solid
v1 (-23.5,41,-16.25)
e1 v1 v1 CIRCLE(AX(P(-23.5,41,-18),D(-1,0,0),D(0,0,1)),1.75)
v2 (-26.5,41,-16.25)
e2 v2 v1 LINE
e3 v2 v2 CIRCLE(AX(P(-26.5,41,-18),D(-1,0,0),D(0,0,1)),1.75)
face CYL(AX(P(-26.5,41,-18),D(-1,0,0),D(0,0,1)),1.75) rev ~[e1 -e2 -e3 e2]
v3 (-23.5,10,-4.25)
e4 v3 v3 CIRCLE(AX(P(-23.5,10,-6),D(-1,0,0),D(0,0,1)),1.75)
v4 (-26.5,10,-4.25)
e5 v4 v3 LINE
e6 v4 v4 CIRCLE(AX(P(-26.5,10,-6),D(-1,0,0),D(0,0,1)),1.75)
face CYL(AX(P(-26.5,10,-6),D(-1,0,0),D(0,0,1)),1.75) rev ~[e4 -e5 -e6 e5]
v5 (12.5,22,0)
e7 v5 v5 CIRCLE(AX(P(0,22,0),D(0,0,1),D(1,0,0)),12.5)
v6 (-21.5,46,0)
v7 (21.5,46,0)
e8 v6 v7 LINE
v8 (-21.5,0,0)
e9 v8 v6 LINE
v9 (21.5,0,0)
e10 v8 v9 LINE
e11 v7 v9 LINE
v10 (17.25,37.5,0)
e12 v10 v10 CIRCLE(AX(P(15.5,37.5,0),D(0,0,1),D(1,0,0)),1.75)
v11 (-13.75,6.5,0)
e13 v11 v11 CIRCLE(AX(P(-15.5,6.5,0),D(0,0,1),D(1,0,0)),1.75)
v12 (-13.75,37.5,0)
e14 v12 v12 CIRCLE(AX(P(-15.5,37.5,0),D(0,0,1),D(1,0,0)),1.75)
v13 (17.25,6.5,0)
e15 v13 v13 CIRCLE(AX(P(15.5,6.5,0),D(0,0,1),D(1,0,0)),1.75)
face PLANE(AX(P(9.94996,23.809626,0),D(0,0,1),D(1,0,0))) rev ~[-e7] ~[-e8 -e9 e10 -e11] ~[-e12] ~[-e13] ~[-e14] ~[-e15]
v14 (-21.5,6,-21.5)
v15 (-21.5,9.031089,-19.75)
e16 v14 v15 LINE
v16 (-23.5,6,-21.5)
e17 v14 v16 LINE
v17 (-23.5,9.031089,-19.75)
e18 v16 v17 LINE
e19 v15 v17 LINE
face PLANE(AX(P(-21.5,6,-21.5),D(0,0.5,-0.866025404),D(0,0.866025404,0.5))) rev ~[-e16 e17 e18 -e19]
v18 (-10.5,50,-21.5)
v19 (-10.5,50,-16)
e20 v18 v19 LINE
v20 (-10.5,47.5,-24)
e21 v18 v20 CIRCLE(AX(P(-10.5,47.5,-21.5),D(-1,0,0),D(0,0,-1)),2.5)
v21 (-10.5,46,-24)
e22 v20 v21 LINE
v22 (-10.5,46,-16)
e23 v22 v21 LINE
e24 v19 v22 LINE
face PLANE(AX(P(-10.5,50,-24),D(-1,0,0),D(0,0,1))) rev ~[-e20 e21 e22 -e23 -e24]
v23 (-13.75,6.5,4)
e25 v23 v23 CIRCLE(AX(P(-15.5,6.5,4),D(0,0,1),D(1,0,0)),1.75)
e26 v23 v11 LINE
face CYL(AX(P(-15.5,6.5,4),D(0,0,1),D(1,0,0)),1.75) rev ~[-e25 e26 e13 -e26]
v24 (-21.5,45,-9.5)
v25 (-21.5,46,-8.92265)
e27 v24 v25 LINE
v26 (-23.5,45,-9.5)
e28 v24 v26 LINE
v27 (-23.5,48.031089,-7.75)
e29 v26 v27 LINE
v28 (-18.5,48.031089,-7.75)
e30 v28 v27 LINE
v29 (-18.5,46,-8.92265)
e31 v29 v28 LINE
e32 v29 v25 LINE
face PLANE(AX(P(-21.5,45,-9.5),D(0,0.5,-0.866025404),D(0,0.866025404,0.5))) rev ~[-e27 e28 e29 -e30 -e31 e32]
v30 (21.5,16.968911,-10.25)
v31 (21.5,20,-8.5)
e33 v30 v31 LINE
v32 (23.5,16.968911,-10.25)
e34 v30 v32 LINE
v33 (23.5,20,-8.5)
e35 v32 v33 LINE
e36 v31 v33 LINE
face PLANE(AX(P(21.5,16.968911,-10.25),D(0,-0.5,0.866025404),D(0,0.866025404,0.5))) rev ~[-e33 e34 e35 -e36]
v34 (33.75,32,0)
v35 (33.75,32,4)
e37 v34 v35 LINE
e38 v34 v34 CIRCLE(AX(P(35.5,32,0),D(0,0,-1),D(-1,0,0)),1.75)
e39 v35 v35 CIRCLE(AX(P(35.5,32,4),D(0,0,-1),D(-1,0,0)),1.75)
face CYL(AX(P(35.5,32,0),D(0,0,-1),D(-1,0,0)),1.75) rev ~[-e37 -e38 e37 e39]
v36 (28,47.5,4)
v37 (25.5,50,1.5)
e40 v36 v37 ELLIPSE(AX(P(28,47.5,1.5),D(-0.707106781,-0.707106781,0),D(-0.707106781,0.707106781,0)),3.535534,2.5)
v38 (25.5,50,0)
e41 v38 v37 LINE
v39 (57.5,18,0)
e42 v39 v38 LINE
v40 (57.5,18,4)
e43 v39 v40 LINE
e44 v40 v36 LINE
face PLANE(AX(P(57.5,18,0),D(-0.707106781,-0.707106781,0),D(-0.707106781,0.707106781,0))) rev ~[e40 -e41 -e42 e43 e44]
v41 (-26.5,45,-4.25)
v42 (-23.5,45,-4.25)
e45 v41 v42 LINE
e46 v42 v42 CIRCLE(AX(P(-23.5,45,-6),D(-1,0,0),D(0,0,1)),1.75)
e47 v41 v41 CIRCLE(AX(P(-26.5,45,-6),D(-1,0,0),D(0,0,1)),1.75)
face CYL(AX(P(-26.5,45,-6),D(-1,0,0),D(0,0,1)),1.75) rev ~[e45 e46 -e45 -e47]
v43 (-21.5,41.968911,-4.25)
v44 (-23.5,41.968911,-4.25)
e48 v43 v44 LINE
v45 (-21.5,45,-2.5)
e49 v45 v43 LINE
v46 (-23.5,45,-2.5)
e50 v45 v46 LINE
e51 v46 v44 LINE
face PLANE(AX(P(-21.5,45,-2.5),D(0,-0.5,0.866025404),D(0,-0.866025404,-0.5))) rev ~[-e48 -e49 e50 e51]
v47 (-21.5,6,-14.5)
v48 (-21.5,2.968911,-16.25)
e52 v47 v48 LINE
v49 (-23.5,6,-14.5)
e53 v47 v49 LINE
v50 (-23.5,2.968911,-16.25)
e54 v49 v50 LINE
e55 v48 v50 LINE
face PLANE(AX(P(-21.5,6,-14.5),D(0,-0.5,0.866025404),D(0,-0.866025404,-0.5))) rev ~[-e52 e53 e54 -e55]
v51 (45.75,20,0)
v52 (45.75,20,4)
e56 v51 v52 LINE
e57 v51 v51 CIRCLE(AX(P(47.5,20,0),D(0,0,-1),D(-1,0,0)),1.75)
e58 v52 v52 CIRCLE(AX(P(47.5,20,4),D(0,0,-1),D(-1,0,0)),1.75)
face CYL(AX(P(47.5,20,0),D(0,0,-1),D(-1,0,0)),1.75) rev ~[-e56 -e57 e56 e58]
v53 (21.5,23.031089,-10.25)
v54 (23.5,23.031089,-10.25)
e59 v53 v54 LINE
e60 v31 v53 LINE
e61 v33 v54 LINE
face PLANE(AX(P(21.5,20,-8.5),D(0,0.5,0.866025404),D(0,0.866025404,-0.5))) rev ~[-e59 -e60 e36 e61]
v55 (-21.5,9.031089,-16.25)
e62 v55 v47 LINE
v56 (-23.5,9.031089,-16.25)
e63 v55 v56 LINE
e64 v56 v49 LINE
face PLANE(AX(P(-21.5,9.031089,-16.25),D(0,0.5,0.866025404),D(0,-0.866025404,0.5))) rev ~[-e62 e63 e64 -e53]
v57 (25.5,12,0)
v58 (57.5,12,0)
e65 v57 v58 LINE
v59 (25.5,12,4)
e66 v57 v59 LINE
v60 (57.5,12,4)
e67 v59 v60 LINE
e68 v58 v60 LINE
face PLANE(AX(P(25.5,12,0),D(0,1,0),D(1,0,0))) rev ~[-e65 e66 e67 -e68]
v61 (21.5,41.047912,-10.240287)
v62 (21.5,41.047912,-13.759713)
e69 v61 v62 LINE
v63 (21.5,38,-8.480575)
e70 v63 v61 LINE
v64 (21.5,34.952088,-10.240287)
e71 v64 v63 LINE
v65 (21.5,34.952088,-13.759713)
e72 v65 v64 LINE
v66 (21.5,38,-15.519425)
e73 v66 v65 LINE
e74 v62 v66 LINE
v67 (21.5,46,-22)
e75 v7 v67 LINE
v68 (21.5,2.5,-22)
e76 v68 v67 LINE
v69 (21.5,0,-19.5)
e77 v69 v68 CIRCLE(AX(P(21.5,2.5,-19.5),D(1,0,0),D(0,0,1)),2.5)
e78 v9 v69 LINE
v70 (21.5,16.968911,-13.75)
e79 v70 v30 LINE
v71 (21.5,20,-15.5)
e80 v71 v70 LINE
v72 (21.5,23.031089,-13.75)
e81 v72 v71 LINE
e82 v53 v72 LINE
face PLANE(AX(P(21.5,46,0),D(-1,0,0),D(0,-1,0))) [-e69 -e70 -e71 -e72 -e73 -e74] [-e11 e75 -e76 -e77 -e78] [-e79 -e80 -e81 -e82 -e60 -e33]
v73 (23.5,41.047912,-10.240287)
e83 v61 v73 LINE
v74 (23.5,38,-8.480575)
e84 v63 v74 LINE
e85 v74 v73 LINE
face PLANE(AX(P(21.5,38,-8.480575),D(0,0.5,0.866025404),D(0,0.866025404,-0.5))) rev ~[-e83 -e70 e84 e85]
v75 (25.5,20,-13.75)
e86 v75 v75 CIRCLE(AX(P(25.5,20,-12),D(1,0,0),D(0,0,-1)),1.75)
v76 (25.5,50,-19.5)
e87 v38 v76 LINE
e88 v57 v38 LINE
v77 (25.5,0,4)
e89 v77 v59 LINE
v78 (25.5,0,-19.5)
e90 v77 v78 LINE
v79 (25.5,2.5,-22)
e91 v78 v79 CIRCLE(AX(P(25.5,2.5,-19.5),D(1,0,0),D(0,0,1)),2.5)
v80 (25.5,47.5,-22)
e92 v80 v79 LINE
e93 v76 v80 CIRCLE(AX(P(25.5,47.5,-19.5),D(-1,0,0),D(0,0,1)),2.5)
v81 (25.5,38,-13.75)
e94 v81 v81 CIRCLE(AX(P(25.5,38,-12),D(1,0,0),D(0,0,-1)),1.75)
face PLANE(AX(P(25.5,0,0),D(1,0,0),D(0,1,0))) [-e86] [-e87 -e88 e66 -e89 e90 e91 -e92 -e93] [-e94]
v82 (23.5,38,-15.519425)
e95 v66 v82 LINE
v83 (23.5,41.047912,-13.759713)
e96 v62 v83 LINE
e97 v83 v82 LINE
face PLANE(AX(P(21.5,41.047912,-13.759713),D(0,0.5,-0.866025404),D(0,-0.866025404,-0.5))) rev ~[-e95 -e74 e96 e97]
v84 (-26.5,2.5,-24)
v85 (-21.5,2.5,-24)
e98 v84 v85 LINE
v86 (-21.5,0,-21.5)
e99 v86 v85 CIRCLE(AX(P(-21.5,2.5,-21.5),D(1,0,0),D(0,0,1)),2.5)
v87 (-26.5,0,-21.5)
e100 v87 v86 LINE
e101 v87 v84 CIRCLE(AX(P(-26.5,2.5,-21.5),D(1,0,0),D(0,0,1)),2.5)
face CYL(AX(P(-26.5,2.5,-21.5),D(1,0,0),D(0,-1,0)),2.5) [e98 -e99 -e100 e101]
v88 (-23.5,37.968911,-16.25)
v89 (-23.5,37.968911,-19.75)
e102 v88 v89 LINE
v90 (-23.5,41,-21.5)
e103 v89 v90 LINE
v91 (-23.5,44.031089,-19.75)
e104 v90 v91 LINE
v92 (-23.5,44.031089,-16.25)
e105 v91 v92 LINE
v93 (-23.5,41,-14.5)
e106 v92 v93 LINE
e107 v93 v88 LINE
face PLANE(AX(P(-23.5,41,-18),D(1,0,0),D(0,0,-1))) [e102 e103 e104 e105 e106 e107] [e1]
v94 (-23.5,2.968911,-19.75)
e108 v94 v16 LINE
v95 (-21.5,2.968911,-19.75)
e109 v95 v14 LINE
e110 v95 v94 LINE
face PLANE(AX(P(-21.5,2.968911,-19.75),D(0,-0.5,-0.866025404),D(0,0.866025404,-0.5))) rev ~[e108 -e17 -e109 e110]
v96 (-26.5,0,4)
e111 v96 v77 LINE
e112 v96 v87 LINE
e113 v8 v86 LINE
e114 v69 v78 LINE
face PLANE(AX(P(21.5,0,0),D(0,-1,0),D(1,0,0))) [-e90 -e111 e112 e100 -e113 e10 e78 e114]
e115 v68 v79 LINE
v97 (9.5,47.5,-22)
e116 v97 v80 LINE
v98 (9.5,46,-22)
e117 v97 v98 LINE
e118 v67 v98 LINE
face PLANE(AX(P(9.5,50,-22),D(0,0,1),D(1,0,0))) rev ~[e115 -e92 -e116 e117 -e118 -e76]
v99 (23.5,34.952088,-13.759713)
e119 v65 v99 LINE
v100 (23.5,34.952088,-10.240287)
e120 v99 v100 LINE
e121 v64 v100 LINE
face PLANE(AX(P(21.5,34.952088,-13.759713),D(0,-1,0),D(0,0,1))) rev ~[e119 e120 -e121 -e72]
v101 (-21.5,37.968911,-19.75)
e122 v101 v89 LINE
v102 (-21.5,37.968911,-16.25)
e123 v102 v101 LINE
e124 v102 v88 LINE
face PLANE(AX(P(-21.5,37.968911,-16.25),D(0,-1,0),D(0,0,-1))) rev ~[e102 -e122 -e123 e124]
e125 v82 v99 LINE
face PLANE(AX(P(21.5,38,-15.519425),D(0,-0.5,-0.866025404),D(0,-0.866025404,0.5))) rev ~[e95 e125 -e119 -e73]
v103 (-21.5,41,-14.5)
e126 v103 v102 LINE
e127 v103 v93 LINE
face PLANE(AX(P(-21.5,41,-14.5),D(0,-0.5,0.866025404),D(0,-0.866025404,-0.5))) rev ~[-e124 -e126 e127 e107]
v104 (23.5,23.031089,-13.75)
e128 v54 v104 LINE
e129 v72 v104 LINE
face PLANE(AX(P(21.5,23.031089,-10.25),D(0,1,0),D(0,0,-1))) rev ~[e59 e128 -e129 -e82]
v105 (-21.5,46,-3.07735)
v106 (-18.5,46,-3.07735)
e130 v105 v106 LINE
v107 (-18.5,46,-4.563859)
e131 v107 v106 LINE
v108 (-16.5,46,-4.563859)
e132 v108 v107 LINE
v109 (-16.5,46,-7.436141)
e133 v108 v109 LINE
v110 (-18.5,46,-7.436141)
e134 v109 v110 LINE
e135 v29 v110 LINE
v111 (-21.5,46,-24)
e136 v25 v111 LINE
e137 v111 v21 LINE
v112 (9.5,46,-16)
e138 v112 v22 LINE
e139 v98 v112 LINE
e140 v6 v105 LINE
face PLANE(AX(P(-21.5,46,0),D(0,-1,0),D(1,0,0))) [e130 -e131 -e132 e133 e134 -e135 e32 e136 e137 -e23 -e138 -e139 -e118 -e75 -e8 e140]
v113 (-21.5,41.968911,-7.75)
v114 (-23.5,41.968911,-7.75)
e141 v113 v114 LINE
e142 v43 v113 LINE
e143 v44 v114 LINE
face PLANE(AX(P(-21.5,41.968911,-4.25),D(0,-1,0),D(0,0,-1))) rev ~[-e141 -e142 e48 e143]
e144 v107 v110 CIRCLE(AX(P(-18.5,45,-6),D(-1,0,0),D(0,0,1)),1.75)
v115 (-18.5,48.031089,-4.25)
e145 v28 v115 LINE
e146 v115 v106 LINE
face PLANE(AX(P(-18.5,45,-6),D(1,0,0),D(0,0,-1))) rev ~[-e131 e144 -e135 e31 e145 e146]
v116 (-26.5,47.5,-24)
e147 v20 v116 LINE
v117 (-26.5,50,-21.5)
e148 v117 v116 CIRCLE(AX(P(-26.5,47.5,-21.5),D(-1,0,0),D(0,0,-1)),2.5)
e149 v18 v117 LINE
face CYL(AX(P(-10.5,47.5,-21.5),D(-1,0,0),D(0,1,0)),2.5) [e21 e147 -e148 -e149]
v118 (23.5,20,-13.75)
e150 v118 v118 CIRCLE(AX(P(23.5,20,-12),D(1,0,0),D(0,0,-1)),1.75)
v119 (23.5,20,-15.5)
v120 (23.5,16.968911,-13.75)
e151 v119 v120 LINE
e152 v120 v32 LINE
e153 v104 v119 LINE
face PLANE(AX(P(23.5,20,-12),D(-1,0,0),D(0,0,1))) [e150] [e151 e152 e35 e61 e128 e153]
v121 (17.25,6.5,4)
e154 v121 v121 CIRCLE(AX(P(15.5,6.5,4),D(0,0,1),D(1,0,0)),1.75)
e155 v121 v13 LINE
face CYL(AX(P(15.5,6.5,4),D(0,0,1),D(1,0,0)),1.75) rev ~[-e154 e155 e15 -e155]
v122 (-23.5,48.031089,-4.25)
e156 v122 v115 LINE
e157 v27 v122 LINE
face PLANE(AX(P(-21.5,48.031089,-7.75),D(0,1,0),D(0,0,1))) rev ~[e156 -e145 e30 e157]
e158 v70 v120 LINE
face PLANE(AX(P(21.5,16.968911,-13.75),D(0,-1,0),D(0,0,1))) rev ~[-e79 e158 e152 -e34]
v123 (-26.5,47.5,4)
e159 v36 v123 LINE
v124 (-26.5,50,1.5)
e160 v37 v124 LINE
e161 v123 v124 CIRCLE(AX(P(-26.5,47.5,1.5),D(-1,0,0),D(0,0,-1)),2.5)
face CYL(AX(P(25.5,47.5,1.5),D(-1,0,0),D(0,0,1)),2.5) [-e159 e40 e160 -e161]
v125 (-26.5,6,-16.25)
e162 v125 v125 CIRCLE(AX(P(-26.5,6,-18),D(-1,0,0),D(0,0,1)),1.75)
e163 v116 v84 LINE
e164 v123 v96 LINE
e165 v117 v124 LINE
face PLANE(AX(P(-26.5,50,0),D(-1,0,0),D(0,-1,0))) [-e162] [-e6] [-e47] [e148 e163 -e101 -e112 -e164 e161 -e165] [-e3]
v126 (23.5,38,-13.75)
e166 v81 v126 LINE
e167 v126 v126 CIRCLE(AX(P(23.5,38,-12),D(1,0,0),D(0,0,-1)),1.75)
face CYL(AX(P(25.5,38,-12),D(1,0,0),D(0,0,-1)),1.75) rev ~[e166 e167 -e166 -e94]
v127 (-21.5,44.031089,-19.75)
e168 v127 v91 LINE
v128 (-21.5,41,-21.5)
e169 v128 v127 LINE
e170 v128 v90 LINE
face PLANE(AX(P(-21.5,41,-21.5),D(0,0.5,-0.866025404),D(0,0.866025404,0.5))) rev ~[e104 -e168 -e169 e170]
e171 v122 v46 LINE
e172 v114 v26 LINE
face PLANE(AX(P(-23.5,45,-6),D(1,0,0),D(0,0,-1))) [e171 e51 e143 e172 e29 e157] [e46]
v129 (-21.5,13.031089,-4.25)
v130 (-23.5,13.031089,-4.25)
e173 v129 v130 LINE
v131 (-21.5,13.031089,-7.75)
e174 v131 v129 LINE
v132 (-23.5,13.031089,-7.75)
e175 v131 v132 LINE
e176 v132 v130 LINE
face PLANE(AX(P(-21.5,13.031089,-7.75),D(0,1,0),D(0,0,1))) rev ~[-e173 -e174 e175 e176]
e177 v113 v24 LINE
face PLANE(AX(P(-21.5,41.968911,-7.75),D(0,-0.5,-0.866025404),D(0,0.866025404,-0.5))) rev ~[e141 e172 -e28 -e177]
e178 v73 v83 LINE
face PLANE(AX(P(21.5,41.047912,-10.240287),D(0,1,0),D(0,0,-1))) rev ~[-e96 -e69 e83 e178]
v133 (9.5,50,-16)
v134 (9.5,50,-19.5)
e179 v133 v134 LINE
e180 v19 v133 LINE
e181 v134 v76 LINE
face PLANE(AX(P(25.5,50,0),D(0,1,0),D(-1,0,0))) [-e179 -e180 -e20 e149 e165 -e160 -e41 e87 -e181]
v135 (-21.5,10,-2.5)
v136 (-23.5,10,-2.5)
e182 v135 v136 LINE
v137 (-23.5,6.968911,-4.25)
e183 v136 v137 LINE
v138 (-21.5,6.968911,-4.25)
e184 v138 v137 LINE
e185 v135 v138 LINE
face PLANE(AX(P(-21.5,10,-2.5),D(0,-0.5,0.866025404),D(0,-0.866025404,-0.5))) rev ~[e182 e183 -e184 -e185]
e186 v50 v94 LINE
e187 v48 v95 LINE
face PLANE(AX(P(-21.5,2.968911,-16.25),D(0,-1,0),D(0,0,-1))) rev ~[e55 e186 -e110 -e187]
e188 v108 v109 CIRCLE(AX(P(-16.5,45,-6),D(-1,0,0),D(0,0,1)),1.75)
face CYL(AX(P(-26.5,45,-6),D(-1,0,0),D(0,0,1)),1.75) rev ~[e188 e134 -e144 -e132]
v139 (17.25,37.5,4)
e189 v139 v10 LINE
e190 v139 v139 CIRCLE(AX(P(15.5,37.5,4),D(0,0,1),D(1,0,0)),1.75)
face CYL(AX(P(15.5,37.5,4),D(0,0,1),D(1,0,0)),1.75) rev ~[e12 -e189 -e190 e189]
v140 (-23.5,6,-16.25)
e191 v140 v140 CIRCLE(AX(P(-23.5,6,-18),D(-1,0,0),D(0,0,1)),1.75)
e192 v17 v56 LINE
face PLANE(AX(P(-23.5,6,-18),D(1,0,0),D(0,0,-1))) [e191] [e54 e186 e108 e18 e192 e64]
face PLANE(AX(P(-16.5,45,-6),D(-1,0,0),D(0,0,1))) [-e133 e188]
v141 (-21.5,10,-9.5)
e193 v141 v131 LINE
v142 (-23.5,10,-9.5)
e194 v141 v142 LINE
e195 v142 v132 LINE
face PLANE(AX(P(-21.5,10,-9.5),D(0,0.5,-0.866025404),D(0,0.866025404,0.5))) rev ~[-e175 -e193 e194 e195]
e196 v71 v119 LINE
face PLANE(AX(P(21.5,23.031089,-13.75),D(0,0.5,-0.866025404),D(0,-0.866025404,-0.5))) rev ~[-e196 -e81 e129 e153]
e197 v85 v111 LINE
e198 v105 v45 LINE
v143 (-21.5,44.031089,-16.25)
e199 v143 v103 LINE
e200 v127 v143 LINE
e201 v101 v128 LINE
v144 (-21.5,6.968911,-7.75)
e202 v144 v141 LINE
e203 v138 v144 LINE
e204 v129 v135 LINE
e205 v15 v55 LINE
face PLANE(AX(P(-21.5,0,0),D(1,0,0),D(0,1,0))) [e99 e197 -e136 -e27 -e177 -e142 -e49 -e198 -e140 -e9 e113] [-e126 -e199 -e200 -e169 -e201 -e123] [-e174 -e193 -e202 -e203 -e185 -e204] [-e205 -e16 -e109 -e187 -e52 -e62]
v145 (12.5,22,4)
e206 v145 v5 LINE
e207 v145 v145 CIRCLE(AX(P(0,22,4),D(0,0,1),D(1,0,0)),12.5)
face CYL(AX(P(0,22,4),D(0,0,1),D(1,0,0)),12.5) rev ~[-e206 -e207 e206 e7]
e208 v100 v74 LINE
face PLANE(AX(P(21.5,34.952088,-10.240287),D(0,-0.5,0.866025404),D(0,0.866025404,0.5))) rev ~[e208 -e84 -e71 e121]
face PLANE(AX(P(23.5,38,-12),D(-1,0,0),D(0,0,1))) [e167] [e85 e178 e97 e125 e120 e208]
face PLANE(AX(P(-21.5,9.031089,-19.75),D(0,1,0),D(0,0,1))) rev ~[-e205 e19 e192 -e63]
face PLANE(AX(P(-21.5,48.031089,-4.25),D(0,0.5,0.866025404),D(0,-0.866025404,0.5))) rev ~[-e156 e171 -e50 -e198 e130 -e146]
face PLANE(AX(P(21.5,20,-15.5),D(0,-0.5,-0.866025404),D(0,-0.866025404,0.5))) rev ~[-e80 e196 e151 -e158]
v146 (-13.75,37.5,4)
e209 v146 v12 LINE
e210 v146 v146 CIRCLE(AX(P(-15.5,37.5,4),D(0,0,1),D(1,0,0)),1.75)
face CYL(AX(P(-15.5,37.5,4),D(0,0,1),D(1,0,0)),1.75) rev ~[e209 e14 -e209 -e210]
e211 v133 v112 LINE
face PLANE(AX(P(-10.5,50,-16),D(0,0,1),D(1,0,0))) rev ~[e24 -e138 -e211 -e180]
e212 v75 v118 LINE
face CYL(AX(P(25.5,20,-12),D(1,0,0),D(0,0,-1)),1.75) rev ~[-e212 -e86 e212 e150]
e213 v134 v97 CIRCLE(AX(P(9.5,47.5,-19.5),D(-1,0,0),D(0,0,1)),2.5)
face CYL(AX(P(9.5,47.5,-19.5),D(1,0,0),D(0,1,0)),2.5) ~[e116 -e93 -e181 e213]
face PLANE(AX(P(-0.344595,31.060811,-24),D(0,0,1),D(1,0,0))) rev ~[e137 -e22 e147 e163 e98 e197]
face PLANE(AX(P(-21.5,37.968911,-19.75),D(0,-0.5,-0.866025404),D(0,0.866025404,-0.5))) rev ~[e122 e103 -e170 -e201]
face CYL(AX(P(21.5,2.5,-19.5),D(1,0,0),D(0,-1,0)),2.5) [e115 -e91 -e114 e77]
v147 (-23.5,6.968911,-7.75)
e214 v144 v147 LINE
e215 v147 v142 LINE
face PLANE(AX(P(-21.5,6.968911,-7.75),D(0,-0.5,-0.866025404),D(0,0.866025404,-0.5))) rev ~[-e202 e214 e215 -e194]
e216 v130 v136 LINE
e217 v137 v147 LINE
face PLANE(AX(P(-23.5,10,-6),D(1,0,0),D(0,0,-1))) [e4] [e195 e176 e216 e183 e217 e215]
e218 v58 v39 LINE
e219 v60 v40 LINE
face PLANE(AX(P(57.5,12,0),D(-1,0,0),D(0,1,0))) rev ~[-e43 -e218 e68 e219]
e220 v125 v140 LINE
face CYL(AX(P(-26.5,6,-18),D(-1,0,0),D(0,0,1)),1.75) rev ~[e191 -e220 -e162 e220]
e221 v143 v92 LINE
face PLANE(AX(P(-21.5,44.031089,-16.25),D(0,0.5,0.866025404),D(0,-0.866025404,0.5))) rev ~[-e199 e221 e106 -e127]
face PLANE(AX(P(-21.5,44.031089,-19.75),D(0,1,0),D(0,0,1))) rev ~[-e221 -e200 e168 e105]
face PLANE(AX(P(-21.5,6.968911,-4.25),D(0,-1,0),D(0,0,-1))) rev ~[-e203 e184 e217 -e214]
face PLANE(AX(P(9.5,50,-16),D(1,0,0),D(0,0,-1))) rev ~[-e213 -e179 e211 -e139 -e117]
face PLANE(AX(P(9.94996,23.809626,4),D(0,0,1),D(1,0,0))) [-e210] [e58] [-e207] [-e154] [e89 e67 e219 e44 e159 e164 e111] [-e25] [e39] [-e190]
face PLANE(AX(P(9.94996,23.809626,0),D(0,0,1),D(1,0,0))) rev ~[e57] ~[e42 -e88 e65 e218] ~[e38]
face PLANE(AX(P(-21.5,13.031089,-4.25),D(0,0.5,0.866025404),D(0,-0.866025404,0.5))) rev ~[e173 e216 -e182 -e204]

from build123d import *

# Parameters (mm, degrees)
BOSS_EXTRUDE1_DEPTH      = 4
SKETCH2_R                = 12.5
SKETCH2_R_2              = 1.75
CUT_EXTRUDE1_DEPTH       = 5
SKETCH9_R                = 1.75
CUT_EXTRUDE2_DEPTH       = 4
BOSS_EXTRUDE8_DEPTH      = 24
SKETCH18_R               = 1.75
CUT_EXTRUDE7_DEPTH       = 4
SKETCH19_R               = 1.75
CUT_EXTRUDE8_DEPTH       = 10
CUT_EXTRUDE9_DEPTH       = 50
FILLET1_R                = 2.5
CUT_EXTRUDE11_DEPTH      = 3
CUT_EXTRUDE11_DEPTH_BACK = 2
CUT_EXTRUDE12_DEPTH      = 2
CUT_EXTRUDE13_DEPTH      = 2
FILLET2_R                = 2.5


with BuildPart() as part:
    # Sketch1 → Boss-Extrude1 (new body)
    with BuildSketch(Plane.XY):
        Polygon((57.5, 18), (25.5, 50), (-26.5, 50), (-26.5, 0), (25.5, 0), (25.5, 12), (57.5, 12), align=None)
    extrude(amount=BOSS_EXTRUDE1_DEPTH)

    # Sketch2 → Cut-Extrude1 (cut, through all)
    with BuildSketch(Plane.XY.offset(4)):
        with Locations((0, 22)):
            Circle(SKETCH2_R)
        with Locations((15.5, 6.5)):
            Circle(SKETCH2_R_2)
        with Locations((15.5, 37.5)):
            Circle(SKETCH2_R_2)
        with Locations((-15.5, 37.5)):
            Circle(SKETCH2_R_2)
        with Locations((-15.5, 6.5)):
            Circle(SKETCH2_R_2)
    extrude(amount=-CUT_EXTRUDE1_DEPTH, mode=Mode.SUBTRACT)

    # Sketch9 → Cut-Extrude2 (cut)
    with BuildSketch(Plane(origin=(0, 0, 0), x_dir=(-1, 0, 0), z_dir=(0, 0, -1))):
        with Locations((-47.5, 20)):
            Circle(SKETCH9_R)
        with Locations((-35.5, 32)):
            Circle(SKETCH9_R)
    extrude(amount=-CUT_EXTRUDE2_DEPTH, mode=Mode.SUBTRACT)

    # Sketch17 → Boss-Extrude8 (add)
    with BuildSketch(Plane(origin=(0, 0, 0), x_dir=(-1, 0, 0), z_dir=(0, 0, -1))):
        Polygon((-25.5, 0), (-25.5, 50), (26.5, 50), (26.5, 0), (21.5, 0), (21.5, 46), (-21.5, 46), (-21.5, 0), align=None)
    extrude(amount=BOSS_EXTRUDE8_DEPTH)

    # Sketch18 → Cut-Extrude7 (cut)
    with BuildSketch(Plane(origin=(25.5, 0, 0), x_dir=(0, 0, -1), z_dir=(1, 0, 0))):
        with Locations((12, 38)):
            Circle(SKETCH18_R)
        with Locations((12, 20)):
            Circle(SKETCH18_R)
    extrude(amount=-CUT_EXTRUDE7_DEPTH, mode=Mode.SUBTRACT)

    # Sketch19 → Cut-Extrude8 (cut)
    with BuildSketch(Plane.ZY.offset(26.5)):
        with Locations((-18, 6)):
            Circle(SKETCH19_R)
        with Locations((-18, 41)):
            Circle(SKETCH19_R)
        with Locations((-6, 10)):
            Circle(SKETCH19_R)
        with Locations((-6, 45)):
            Circle(SKETCH19_R)
    extrude(amount=-CUT_EXTRUDE8_DEPTH, mode=Mode.SUBTRACT)

    # Sketch20 → Cut-Extrude9 (cut)
    with BuildSketch(Plane(origin=(0, 50, 0), x_dir=(1, 0, 0), z_dir=(0, 1, 0))):
        Polygon((25.5, 24), (-10.5, 24), (-10.5, 16), (9.5, 16), (9.5, 22), (25.5, 22), align=None)
    extrude(amount=-CUT_EXTRUDE9_DEPTH, mode=Mode.SUBTRACT)

    # Fillet1
    fillet1_edges = [part.edges().sort_by_distance(p)[0] for p in [
        (23.5, 0, -22),
        (17.5, 50, -22),
        (-24, 0, -24),
        (-18.5, 50, -24),
    ]]
    fillet(fillet1_edges, radius=FILLET1_R)

    # Sketch22 → Cut-Extrude11 (cut, two sides)
    with BuildSketch(Plane(origin=(-21.5, 0, 0), x_dir=(0, 0, -1), z_dir=(1, 0, 0))) as cut_extrude11_sk:
        Polygon((7.75, 41.968911087), (9.5, 45), (7.75, 48.031088913), (4.25, 48.031088913), (2.5, 45), (4.25, 41.968911087), align=None)
    extrude(amount=CUT_EXTRUDE11_DEPTH, mode=Mode.SUBTRACT)
    extrude(cut_extrude11_sk.sketch, amount=-CUT_EXTRUDE11_DEPTH_BACK, mode=Mode.SUBTRACT)

    # Sketch23 → Cut-Extrude12 (cut)
    with BuildSketch(Plane(origin=(-21.5, 0, 0), x_dir=(0, 0, -1), z_dir=(1, 0, 0))):
        Polygon((19.75, 37.968911087), (21.5, 41), (19.75, 44.031088913), (16.25, 44.031088913), (14.5, 41), (16.25, 37.968911087), align=None)
        Polygon((7.75, 6.968911087), (9.5, 10), (7.75, 13.031088913), (4.25, 13.031088913), (2.5, 10), (4.25, 6.968911087), align=None)
        Polygon((16.25, 2.968911087), (19.75, 2.968911087), (21.5, 6), (19.75, 9.031088913), (16.25, 9.031088913), (14.5, 6), align=None)
    extrude(amount=-CUT_EXTRUDE12_DEPTH, mode=Mode.SUBTRACT)

    # Sketch24 → Cut-Extrude13 (cut)
    with BuildSketch(Plane.ZY.offset(-21.5)):
        Polygon((-10.240287428, 41.047911581), (-13.759712572, 41.047911581), (-15.519425144, 38), (-13.759712572, 34.952088419), (-10.240287428, 34.952088419), (-8.480574856, 38), align=None)
        Polygon((-10.25, 23.031088913), (-13.75, 23.031088913), (-15.5, 20), (-13.75, 16.968911087), (-10.25, 16.968911087), (-8.5, 20), align=None)
    extrude(amount=-CUT_EXTRUDE13_DEPTH, mode=Mode.SUBTRACT)

    # Fillet2
    fillet2_edges = [part.edges().sort_by_distance(p)[0] for p in [
        (-0.5, 50, 4),
    ]]
    fillet(fillet2_edges, radius=FILLET2_R)


solid = part.part
